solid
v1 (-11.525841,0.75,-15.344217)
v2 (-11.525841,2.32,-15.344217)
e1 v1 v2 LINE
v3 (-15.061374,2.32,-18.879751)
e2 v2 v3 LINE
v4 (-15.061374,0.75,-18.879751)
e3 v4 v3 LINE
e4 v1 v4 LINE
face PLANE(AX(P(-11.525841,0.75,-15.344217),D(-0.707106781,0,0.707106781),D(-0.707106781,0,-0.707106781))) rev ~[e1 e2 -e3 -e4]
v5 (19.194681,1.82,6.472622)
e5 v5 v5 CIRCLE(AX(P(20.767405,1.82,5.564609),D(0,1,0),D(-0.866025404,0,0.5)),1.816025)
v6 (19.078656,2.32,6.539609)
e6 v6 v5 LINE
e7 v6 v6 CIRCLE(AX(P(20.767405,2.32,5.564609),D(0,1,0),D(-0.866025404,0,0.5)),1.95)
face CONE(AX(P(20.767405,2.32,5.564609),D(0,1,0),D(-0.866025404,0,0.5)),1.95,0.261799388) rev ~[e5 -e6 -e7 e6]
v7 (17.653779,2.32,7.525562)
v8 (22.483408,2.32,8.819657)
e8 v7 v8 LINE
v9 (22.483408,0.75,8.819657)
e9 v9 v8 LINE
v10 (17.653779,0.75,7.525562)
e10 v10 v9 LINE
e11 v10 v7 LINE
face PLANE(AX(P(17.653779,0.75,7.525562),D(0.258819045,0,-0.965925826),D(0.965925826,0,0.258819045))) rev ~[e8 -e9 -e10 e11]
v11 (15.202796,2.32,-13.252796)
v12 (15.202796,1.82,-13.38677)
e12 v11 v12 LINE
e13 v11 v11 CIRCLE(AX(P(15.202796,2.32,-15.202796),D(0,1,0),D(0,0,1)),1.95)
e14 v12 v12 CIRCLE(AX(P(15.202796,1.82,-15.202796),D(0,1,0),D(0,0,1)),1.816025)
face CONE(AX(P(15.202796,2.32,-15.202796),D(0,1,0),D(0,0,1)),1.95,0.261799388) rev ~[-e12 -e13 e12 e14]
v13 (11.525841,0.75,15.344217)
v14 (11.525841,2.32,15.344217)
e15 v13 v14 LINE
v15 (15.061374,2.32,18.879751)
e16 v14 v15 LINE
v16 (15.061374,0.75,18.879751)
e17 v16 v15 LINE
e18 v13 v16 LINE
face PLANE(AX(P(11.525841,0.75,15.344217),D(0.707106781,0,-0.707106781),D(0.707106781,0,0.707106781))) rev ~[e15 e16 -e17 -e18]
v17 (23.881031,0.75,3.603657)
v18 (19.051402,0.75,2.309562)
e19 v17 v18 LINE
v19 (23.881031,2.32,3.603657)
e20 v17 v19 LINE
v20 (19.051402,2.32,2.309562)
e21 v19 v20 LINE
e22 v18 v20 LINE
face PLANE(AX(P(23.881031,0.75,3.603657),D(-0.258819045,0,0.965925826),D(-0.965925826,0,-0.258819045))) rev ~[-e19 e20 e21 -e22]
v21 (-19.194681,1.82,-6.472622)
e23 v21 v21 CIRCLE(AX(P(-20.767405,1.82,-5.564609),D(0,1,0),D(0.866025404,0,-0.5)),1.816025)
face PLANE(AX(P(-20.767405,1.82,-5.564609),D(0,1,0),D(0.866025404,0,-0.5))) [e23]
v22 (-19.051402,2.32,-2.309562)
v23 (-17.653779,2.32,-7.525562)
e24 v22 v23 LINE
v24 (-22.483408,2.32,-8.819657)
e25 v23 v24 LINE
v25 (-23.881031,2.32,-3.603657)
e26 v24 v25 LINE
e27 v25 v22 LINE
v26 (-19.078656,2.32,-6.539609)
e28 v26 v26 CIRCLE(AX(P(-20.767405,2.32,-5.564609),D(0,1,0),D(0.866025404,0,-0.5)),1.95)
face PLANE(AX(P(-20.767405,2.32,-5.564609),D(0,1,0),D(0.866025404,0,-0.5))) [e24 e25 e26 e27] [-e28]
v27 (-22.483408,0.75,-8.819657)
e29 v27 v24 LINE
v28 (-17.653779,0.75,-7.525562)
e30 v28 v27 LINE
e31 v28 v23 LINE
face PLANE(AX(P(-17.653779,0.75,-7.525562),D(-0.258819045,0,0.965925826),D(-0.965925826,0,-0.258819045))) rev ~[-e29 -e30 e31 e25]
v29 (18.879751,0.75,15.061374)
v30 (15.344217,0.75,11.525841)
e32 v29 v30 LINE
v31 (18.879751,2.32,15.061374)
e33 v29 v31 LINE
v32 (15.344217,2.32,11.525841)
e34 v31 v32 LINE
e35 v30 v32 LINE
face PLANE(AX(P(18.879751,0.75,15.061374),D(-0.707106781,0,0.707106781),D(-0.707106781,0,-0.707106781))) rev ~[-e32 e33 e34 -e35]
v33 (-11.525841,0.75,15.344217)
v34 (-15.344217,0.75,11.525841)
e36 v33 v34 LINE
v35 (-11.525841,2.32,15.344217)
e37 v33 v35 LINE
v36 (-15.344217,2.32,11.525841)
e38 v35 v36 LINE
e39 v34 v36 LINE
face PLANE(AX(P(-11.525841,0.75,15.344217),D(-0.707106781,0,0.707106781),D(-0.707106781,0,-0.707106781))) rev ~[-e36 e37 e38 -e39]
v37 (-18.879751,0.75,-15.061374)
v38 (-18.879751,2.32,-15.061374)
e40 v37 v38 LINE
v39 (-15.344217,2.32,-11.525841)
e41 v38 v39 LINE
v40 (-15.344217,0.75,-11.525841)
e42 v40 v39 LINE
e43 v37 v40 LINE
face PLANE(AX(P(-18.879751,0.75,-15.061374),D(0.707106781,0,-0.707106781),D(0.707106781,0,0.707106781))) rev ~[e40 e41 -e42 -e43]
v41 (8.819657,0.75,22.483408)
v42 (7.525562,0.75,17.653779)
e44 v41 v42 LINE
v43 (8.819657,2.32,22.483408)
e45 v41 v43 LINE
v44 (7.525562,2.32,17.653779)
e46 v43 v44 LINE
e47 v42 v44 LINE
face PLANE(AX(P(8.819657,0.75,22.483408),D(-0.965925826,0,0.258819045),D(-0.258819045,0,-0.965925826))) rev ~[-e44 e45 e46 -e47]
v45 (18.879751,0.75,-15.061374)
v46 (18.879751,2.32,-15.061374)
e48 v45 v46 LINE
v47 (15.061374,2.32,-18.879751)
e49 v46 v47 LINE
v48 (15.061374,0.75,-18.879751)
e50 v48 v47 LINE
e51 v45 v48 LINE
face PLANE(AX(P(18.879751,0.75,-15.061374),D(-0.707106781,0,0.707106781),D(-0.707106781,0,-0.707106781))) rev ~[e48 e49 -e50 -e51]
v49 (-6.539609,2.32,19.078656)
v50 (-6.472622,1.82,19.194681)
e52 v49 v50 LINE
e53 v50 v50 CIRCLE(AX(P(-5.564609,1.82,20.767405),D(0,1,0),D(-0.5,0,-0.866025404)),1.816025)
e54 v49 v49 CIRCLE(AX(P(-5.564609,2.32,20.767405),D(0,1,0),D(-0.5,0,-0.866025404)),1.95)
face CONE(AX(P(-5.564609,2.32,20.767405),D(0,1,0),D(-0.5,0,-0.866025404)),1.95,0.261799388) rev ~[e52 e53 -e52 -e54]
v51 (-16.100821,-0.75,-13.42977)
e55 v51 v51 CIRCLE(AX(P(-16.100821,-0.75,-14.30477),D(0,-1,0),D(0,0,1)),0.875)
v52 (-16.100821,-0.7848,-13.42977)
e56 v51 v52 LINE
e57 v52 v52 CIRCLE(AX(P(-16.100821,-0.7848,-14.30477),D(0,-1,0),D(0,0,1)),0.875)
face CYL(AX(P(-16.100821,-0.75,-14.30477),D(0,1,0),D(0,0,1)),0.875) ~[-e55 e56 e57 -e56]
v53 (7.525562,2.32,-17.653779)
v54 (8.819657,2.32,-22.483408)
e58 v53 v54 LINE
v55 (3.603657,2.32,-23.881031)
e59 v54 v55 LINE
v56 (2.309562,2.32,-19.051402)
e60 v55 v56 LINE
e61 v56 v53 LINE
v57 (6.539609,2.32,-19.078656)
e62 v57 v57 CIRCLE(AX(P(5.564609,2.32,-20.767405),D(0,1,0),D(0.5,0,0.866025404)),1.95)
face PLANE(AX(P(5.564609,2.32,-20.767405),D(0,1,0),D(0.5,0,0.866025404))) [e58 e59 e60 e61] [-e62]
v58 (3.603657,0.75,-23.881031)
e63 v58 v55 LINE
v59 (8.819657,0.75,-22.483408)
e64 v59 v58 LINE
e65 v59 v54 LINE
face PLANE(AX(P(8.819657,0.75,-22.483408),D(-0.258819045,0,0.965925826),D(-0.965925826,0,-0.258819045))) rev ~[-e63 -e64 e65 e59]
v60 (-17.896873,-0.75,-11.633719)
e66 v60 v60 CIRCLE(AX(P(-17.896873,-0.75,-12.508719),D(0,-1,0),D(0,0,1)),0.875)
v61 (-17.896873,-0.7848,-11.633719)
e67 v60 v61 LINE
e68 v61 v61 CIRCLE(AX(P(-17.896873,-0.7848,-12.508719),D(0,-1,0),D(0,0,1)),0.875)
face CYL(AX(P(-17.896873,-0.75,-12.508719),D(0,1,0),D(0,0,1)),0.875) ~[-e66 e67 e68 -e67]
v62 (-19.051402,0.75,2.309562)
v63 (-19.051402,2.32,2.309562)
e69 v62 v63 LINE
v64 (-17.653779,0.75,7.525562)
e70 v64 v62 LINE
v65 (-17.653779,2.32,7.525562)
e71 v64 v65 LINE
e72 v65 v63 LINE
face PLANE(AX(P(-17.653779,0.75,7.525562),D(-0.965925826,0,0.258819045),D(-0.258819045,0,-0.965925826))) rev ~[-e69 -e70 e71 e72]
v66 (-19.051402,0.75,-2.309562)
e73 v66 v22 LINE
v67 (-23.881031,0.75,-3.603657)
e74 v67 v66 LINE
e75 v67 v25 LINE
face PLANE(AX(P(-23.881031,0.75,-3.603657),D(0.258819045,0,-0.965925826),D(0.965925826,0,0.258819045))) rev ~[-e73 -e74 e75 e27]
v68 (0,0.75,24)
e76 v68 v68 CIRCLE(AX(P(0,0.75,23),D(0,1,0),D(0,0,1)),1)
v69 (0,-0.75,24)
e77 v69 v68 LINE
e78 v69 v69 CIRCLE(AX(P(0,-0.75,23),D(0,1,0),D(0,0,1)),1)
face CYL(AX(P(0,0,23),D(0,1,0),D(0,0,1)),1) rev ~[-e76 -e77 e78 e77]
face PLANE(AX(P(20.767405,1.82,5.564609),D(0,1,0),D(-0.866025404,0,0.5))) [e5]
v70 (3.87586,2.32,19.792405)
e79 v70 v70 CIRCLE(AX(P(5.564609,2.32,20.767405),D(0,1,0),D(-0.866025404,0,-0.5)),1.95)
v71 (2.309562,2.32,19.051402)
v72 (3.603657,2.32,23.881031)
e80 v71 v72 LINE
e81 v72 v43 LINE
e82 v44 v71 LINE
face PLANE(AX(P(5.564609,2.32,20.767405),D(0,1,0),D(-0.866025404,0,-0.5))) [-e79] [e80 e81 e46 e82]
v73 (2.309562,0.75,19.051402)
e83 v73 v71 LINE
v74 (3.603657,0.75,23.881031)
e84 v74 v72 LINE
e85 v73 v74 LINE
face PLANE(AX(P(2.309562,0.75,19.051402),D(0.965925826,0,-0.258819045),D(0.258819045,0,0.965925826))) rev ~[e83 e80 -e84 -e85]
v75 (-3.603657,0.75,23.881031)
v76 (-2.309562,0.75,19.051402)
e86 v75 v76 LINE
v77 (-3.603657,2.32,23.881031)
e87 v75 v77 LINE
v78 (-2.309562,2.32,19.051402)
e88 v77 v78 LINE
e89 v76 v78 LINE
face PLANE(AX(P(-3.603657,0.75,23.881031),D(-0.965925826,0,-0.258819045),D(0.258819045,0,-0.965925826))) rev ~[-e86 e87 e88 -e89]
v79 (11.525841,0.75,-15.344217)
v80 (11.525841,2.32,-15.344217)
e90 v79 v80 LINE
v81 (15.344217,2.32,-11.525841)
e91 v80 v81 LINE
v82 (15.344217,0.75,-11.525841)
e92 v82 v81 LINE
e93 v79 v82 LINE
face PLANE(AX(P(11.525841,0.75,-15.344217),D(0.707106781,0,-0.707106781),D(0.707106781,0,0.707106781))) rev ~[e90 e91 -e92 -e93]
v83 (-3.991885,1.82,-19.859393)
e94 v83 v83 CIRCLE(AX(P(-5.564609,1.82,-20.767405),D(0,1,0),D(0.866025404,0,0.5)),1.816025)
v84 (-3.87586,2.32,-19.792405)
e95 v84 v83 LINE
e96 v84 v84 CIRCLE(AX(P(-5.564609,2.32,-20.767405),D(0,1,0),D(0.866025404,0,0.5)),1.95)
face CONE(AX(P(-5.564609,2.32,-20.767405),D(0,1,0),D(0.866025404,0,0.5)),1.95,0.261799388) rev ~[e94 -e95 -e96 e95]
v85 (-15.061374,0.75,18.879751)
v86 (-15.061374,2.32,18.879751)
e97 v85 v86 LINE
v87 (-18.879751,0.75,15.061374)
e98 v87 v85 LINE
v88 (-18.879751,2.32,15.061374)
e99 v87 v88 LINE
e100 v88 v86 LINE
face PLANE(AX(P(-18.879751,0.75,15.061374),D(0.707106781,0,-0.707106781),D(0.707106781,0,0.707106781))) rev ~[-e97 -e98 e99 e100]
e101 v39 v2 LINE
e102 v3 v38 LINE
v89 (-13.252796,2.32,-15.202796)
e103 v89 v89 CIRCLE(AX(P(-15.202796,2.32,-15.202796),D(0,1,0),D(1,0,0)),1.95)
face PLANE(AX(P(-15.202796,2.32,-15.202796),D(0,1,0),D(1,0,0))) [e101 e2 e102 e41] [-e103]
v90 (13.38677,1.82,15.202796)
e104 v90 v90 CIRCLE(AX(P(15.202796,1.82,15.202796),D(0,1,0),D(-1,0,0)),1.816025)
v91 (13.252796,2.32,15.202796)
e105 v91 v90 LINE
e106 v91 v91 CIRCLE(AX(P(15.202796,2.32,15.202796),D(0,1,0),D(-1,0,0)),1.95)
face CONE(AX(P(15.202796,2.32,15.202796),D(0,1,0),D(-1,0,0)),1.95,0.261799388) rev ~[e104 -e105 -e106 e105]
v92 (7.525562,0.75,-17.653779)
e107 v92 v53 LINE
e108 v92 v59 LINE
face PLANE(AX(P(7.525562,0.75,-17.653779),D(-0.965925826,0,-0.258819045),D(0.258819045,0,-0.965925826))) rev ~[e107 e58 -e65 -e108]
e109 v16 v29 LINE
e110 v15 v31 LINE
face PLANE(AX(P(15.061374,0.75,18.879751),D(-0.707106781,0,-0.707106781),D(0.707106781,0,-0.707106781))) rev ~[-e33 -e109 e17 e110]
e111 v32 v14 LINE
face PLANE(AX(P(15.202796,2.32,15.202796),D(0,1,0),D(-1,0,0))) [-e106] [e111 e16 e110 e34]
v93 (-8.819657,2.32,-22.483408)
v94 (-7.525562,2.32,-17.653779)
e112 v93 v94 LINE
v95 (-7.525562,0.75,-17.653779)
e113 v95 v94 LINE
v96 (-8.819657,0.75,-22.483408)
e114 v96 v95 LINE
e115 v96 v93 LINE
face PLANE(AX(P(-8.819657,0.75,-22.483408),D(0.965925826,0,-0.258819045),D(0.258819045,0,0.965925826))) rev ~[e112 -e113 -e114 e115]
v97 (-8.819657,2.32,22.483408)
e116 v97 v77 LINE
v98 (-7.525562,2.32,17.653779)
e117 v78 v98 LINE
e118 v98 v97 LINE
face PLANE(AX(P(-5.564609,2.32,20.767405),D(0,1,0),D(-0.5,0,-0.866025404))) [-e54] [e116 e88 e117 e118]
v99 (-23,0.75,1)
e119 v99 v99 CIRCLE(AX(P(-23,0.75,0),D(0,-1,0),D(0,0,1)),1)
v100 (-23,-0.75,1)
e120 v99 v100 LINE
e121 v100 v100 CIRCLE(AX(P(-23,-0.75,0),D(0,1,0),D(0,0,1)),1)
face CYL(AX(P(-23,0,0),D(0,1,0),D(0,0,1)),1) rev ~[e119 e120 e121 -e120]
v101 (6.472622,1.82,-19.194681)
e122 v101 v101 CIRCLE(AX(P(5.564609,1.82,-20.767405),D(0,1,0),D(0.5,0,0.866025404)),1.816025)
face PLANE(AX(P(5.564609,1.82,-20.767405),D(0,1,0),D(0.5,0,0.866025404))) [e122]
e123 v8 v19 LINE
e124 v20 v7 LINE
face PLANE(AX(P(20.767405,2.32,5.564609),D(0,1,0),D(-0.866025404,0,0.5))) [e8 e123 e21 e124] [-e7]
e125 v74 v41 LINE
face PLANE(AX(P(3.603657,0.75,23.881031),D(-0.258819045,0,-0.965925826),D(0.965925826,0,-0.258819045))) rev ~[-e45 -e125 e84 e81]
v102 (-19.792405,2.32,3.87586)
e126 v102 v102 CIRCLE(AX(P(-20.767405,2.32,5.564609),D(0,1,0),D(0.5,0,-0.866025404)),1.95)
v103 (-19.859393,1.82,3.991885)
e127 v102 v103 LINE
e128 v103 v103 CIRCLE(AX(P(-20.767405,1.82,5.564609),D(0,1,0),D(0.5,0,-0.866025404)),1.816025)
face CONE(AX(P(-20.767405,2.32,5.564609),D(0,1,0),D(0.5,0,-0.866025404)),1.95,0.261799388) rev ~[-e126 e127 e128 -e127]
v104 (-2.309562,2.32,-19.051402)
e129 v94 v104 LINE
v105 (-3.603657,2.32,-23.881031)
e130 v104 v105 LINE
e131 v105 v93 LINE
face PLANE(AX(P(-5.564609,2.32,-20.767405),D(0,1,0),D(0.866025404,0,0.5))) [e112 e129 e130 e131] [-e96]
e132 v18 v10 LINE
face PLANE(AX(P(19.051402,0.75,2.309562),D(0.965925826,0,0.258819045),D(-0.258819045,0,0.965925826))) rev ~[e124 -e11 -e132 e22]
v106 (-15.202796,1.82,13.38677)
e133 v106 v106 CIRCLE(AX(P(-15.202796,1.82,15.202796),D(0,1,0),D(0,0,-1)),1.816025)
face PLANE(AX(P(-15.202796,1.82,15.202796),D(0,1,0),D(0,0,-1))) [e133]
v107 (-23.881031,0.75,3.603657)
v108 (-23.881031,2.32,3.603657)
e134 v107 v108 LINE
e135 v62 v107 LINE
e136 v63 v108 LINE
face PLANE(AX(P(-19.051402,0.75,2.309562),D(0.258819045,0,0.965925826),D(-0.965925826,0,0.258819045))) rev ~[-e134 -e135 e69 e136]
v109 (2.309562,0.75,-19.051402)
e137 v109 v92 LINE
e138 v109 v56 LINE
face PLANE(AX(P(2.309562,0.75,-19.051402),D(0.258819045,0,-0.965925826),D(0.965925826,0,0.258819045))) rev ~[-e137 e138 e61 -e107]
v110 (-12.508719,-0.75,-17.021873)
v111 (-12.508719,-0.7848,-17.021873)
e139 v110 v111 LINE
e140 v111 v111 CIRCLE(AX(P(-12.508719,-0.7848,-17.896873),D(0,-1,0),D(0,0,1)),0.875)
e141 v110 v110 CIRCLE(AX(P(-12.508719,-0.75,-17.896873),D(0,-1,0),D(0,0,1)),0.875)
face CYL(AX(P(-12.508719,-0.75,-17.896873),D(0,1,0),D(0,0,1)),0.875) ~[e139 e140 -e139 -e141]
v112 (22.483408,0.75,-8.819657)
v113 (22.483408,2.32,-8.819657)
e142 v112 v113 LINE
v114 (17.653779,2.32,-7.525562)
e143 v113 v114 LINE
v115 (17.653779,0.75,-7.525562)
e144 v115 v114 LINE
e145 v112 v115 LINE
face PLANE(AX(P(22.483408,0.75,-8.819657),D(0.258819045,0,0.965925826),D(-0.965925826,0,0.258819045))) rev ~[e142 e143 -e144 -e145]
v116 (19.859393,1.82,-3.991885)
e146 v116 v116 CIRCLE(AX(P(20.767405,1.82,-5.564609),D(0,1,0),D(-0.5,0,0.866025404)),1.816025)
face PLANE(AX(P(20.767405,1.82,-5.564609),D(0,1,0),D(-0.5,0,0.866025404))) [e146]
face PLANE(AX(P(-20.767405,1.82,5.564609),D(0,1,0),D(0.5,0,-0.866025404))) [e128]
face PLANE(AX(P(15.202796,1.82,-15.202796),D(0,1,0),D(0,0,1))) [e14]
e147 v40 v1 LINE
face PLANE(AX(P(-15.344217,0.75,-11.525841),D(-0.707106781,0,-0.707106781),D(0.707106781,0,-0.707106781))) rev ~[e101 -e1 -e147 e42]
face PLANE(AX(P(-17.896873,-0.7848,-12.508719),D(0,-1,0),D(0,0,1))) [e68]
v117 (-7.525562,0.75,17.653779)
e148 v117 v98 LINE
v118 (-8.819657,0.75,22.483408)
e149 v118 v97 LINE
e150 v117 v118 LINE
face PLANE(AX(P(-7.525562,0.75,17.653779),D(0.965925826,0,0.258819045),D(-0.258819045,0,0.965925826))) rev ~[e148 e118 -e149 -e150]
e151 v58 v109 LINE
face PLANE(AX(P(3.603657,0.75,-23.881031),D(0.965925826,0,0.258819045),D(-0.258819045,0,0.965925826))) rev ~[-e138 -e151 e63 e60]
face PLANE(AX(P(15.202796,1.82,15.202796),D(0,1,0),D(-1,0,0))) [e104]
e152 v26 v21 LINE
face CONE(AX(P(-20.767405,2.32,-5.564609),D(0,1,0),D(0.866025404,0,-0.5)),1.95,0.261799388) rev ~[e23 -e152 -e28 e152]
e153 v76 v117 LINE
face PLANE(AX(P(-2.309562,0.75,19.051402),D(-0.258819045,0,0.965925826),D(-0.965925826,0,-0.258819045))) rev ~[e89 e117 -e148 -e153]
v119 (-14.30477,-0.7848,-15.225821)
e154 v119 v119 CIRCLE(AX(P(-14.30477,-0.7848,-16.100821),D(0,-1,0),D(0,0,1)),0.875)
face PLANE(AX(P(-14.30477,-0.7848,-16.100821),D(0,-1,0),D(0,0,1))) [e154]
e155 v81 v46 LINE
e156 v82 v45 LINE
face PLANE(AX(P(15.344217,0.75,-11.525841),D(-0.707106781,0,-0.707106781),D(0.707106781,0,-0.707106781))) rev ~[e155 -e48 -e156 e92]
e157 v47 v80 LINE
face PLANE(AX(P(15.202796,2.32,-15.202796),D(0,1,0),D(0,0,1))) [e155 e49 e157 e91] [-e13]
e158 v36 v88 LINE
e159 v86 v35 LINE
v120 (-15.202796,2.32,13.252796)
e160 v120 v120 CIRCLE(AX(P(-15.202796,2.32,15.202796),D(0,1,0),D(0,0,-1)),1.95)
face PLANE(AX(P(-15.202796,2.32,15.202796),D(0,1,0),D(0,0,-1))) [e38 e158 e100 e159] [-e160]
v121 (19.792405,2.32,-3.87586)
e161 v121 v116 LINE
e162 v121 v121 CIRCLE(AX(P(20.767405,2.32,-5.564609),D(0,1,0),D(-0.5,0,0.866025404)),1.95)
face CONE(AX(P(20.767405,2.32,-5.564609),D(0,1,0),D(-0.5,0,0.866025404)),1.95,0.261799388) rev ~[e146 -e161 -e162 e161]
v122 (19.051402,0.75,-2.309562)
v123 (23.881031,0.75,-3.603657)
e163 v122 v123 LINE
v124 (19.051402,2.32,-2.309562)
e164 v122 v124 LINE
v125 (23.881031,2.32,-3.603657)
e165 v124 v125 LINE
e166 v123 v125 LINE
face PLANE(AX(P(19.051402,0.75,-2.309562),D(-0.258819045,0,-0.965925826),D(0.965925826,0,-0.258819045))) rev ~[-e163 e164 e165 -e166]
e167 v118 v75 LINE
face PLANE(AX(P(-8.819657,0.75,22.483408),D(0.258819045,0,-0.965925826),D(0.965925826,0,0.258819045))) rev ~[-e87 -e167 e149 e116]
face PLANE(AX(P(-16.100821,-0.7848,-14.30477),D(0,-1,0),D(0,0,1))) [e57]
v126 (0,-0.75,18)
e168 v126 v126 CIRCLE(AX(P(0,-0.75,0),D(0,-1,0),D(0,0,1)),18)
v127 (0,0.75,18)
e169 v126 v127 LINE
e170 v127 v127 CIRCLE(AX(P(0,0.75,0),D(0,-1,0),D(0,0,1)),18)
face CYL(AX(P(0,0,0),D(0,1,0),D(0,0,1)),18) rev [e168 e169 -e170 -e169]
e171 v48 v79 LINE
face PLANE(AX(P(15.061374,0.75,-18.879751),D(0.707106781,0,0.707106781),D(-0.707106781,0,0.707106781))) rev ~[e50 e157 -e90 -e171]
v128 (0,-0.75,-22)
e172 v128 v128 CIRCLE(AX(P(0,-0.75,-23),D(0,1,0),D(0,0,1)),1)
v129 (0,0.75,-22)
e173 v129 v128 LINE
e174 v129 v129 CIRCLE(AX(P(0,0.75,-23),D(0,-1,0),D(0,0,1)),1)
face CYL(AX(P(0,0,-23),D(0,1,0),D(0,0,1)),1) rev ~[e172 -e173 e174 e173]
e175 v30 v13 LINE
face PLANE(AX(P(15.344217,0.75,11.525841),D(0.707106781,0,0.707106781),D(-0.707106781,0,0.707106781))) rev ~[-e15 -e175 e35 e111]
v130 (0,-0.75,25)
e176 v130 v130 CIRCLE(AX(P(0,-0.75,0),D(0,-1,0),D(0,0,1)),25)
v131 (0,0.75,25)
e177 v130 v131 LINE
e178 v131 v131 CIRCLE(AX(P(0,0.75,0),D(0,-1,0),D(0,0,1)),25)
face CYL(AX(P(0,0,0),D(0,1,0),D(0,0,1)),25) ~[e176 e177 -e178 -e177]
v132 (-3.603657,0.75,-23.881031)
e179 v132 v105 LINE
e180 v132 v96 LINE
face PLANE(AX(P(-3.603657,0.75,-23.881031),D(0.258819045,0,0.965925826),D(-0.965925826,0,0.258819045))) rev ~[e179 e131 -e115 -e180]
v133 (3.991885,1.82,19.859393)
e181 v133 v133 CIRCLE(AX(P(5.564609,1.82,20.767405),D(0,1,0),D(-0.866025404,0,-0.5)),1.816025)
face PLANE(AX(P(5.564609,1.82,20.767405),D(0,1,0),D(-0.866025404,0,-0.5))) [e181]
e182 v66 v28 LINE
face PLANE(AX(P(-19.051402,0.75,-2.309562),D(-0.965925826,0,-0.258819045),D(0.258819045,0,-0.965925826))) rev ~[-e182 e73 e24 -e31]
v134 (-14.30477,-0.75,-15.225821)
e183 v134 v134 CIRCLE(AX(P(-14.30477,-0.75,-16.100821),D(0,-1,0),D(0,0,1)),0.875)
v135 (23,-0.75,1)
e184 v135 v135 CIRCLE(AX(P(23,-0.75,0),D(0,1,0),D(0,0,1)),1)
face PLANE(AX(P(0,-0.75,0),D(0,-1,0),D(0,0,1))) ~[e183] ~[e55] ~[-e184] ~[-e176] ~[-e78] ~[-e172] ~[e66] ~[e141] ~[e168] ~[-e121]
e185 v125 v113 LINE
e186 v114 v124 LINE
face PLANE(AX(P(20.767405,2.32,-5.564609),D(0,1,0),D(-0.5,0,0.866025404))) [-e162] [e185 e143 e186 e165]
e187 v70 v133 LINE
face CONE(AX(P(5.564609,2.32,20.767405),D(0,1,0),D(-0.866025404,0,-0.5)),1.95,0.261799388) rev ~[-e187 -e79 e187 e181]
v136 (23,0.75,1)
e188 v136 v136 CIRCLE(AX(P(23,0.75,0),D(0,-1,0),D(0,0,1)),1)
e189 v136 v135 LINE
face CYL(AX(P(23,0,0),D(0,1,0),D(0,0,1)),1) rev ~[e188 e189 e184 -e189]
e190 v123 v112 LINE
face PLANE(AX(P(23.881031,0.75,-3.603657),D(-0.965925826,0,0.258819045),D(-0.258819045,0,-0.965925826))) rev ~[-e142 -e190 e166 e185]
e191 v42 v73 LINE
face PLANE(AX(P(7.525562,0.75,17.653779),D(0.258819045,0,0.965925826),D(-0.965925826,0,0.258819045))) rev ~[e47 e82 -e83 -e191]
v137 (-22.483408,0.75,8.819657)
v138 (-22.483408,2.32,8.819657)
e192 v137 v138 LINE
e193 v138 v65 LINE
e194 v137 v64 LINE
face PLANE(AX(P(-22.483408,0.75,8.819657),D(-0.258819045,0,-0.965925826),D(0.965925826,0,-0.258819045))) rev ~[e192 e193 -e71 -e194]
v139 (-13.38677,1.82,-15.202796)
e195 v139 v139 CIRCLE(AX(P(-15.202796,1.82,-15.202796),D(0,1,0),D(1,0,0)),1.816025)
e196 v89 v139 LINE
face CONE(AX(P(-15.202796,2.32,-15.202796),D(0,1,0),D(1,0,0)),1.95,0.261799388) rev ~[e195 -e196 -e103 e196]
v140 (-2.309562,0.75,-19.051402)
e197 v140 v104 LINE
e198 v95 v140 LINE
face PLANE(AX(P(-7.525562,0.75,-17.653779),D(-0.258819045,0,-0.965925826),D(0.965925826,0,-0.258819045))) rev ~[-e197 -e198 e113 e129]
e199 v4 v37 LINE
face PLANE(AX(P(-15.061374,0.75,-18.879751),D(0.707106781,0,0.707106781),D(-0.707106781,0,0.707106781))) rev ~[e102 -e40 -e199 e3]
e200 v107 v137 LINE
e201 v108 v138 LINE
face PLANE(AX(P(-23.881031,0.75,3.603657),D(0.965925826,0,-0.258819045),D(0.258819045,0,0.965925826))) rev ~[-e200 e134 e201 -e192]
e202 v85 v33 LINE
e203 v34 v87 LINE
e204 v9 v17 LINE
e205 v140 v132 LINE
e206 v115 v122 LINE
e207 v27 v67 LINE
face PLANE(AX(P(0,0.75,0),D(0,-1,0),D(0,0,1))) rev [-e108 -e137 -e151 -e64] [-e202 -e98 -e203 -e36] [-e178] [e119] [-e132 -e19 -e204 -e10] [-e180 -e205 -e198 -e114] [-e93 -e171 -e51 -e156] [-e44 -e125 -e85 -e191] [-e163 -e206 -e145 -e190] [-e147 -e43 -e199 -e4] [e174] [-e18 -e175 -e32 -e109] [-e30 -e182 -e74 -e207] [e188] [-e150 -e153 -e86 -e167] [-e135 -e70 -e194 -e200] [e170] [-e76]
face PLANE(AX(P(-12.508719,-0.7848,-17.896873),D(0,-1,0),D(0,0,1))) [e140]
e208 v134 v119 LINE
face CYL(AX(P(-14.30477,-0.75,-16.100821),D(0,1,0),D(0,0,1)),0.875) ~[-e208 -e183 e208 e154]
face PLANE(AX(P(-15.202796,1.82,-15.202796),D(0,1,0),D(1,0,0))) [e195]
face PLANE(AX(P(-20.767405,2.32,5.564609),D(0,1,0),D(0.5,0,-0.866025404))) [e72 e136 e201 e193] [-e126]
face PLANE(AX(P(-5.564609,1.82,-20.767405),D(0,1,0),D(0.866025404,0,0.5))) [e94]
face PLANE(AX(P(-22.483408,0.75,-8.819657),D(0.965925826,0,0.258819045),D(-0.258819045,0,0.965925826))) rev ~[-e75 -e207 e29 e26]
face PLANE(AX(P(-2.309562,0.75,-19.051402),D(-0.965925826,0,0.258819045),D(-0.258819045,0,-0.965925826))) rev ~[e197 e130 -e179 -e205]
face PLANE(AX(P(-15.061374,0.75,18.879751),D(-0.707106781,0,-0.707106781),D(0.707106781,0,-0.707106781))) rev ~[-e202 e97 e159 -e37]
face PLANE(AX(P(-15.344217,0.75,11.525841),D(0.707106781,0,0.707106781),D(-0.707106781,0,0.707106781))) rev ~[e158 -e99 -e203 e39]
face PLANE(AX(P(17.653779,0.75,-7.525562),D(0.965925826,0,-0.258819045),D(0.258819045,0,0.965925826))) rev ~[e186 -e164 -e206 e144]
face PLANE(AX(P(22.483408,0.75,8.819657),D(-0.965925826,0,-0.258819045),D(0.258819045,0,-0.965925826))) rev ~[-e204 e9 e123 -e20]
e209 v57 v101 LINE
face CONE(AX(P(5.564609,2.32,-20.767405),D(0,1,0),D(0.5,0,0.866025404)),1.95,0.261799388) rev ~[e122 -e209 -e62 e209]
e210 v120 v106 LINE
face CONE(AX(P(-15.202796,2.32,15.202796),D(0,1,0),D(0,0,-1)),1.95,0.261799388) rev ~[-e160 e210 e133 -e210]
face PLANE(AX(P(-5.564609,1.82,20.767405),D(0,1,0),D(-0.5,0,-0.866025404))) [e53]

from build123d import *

# Parameters (mm, degrees)
CONTOUR_W                                   = 7
CONTOUR_H                                   = 1.5
BOSS_EXTRU_2_RGB_DEL_DEPTH                  = 1.57
R_P_TITION_CIRCULAIRE1_RGB_DEL_COUNT        = 12
BEIGNETS_SOUDURES_R                         = 0.875
BOSS_EXTRU_3_BEIGNETS_SOUDURES_DEPTH        = 0.0348
LENTILLE_R                                  = 1.95
ENL_V_MAT_EXTRU_1_LENTILLE_DEPTH            = 0.5
ENL_V_MAT_EXTRU_1_LENTILLE_DRAFT            = -15
R_P_TITION_CIRCULAIRE1_COPY_1_SKETCH_R      = 1.95
R_P_TITION_CIRCULAIRE1_COPY_1_DEPTH         = 0.5
R_P_TITION_CIRCULAIRE1_COPY_1_DRAFT         = -15
R_P_TITION_CIRCULAIRE1_COPY_2_SKETCH_R      = 1.95
R_P_TITION_CIRCULAIRE1_COPY_2_DEPTH         = 0.5
R_P_TITION_CIRCULAIRE1_COPY_2_DRAFT         = -15
R_P_TITION_CIRCULAIRE1_COPY_3_SKETCH_R      = 1.95
R_P_TITION_CIRCULAIRE1_COPY_3_DEPTH         = 0.5
R_P_TITION_CIRCULAIRE1_COPY_3_DRAFT         = -15
R_P_TITION_CIRCULAIRE1_COPY_4_SKETCH_R      = 1.95
R_P_TITION_CIRCULAIRE1_COPY_4_DEPTH         = 0.5
R_P_TITION_CIRCULAIRE1_COPY_4_DRAFT         = -15
R_P_TITION_CIRCULAIRE1_COPY_5_SKETCH_R      = 1.95
R_P_TITION_CIRCULAIRE1_COPY_5_DEPTH         = 0.5
R_P_TITION_CIRCULAIRE1_COPY_5_DRAFT         = -15
R_P_TITION_CIRCULAIRE1_COPY_6_SKETCH_R      = 1.95
R_P_TITION_CIRCULAIRE1_COPY_6_DEPTH         = 0.5
R_P_TITION_CIRCULAIRE1_COPY_6_DRAFT         = -15
R_P_TITION_CIRCULAIRE1_COPY_7_SKETCH_R      = 1.95
R_P_TITION_CIRCULAIRE1_COPY_7_DEPTH         = 0.5
R_P_TITION_CIRCULAIRE1_COPY_7_DRAFT         = -15
R_P_TITION_CIRCULAIRE1_COPY_8_SKETCH_R      = 1.95
R_P_TITION_CIRCULAIRE1_COPY_8_DEPTH         = 0.5
R_P_TITION_CIRCULAIRE1_COPY_8_DRAFT         = -15
R_P_TITION_CIRCULAIRE1_COPY_9_SKETCH_R      = 1.95
R_P_TITION_CIRCULAIRE1_COPY_9_DEPTH         = 0.5
R_P_TITION_CIRCULAIRE1_COPY_9_DRAFT         = -15
R_P_TITION_CIRCULAIRE1_COPY_10_SKETCH_R     = 1.95
R_P_TITION_CIRCULAIRE1_COPY_10_DEPTH        = 0.5
R_P_TITION_CIRCULAIRE1_COPY_10_DRAFT        = -15
R_P_TITION_CIRCULAIRE1_COPY_11_SKETCH_R     = 1.95
R_P_TITION_CIRCULAIRE1_COPY_11_DEPTH        = 0.5
R_P_TITION_CIRCULAIRE1_COPY_11_DRAFT        = -15
TOUS_MONTAGE_VIS_M2_ANNEAU_RGB_R            = 1
ENL_V_MAT_EXTRU_1_TOUS_MONTAGE_VIS_M2_DEPTH = 2.5


with BuildPart() as part:
    # Contour → Révolution1_Contour (revolve)
    with BuildSketch(Plane.XY, mode=Mode.PRIVATE) as r_volution1_contour_sk:
        with Locations((21.5, 0)):
            Rectangle(CONTOUR_W, CONTOUR_H)
    revolve(r_volution1_contour_sk.sketch.rotate(Axis((0, 2.47524, 0), (0, -1, 0)), 90), axis=Axis((0, 2.47524, 0), (0, -1, 0)))

    # RGB_DEL → Boss.-Extru.2_RGB_DEL (add)
    with BuildSketch(Plane(origin=(0, 0.75, 0), x_dir=(1, 0, 0), z_dir=(0, 1, 0))):
        Polygon((-15.344217152, 11.525840533), (-11.525840533, 15.344217152), (-15.061374439, 18.879751058), (-18.879751058, 15.061374439), align=None)
    boss_extru_2_rgb_del = extrude(amount=BOSS_EXTRU_2_RGB_DEL_DEPTH)

    # Répétition circulaire1_RGB_DEL: Boss.-Extru.2_RGB_DEL ×12 about axis
    r_p_tition_circulaire1_rgb_del_axis = Axis((0, 0, 0), (0, 1, 0))
    for i in range(1, R_P_TITION_CIRCULAIRE1_RGB_DEL_COUNT):
        add(boss_extru_2_rgb_del.rotate(r_p_tition_circulaire1_rgb_del_axis, i * 360 / R_P_TITION_CIRCULAIRE1_RGB_DEL_COUNT))

    # Beignets_soudures → Boss.-Extru.3_Beignets_soudures (add)
    with BuildSketch(Plane(origin=(0, -0.75, 0), x_dir=(-1, 0, 0), z_dir=(0, -1, 0))):
        with Locations(Location((12.508718959, 17.896872632, 0), (0, 0, 270))):
            Circle(BEIGNETS_SOUDURES_R)
        with Locations(Location((14.304770183, 16.100821408, 0), (0, 0, 270))):
            Circle(BEIGNETS_SOUDURES_R)
        with Locations(Location((16.100821408, 14.304770183, 0), (0, 0, 270))):
            Circle(BEIGNETS_SOUDURES_R)
        with Locations(Location((17.896872632, 12.508718959, 0), (0, 0, 270))):
            Circle(BEIGNETS_SOUDURES_R)
    extrude(amount=BOSS_EXTRU_3_BEIGNETS_SOUDURES_DEPTH)


with BuildPart() as enl_v_mat_extru_1_lentille_tool:
    # Lentille → Enlèv. mat.-Extru.1_Lentille (with draft: the straight prism first)
    with BuildSketch(Plane(origin=(0, 2.32, 0), x_dir=(1, 0, 0), z_dir=(0, 1, 0))):
        with Locations((-15.202795796, 15.202795796)):
            Circle(LENTILLE_R)
    extrude(amount=-ENL_V_MAT_EXTRU_1_LENTILLE_DEPTH)
    # Enlèv. mat.-Extru.1_Lentille: the draft: its side faces are tilted about the plane it starts from
    enl_v_mat_extru_1_lentille_sides = [enl_v_mat_extru_1_lentille_tool.faces().sort_by_distance(p)[0] for p in [
        (-17.152795796, 2.07, -15.202795796),
    ]]
    draft(enl_v_mat_extru_1_lentille_sides, Plane(origin=(0, 2.32, 0), x_dir=(1, 0, 0), z_dir=(0, 1, 0)), ENL_V_MAT_EXTRU_1_LENTILLE_DRAFT)


with BuildPart() as part_1:
    add(part.part)

    # Enlèv. mat.-Extru.1_Lentille: cut by enl_v_mat_extru_1_lentille_tool
    add(enl_v_mat_extru_1_lentille_tool.part, mode=Mode.SUBTRACT)


with BuildPart() as r_p_tition_circulaire1_copy_1_tool:
    # Répétition circulaire1 copy 1 sketch → Répétition circulaire1 copy 1 (with draft: the straight prism first)
    with BuildSketch(Plane(origin=(0, 2.32, 0), x_dir=(0.8660254037844387, 0, -0.49999999999999994), z_dir=(0, 1, 0))):
        with Locations((-15.202795796, 15.202795796)):
            Circle(R_P_TITION_CIRCULAIRE1_COPY_1_SKETCH_R)
    extrude(amount=-R_P_TITION_CIRCULAIRE1_COPY_1_DEPTH)
    # Répétition circulaire1 copy 1: the draft: its side faces are tilted about the plane it starts from
    r_p_tition_circulaire1_copy_1_sides = [r_p_tition_circulaire1_copy_1_tool.faces().sort_by_distance(p)[0] for p in [
        (-22.456154803, 2.07, -4.58960947),
    ]]
    draft(r_p_tition_circulaire1_copy_1_sides, Plane(origin=(0, 2.32, 0), x_dir=(0.8660254037844387, 0, -0.49999999999999994), z_dir=(0, 1, 0)), R_P_TITION_CIRCULAIRE1_COPY_1_DRAFT)


with BuildPart() as part_2:
    add(part_1.part)

    # Répétition circulaire1 copy 1: cut by r_p_tition_circulaire1_copy_1_tool
    add(r_p_tition_circulaire1_copy_1_tool.part, mode=Mode.SUBTRACT)


with BuildPart() as r_p_tition_circulaire1_copy_2_tool:
    # Répétition circulaire1 copy 2 sketch → Répétition circulaire1 copy 2 (with draft: the straight prism first)
    with BuildSketch(Plane(origin=(0, 2.32, 0), x_dir=(0.5000000000000001, 0, -0.8660254037844386), z_dir=(0, 1, 0))):
        with Locations((-15.202795796, 15.202795796)):
            Circle(R_P_TITION_CIRCULAIRE1_COPY_2_SKETCH_R)
    extrude(amount=-R_P_TITION_CIRCULAIRE1_COPY_2_DEPTH)
    # Répétition circulaire1 copy 2: the draft: its side faces are tilted about the plane it starts from
    r_p_tition_circulaire1_copy_2_sides = [r_p_tition_circulaire1_copy_2_tool.faces().sort_by_distance(p)[0] for p in [
        (-21.742405266, 2.07, 7.253359007),
    ]]
    draft(r_p_tition_circulaire1_copy_2_sides, Plane(origin=(0, 2.32, 0), x_dir=(0.5000000000000001, 0, -0.8660254037844386), z_dir=(0, 1, 0)), R_P_TITION_CIRCULAIRE1_COPY_2_DRAFT)


with BuildPart() as part_3:
    add(part_2.part)

    # Répétition circulaire1 copy 2: cut by r_p_tition_circulaire1_copy_2_tool
    add(r_p_tition_circulaire1_copy_2_tool.part, mode=Mode.SUBTRACT)


with BuildPart() as r_p_tition_circulaire1_copy_3_tool:
    # Répétition circulaire1 copy 3 sketch → Répétition circulaire1 copy 3 (with draft: the straight prism first)
    with BuildSketch(Plane(origin=(0, 2.32, 0), x_dir=(0, 0, -1), z_dir=(0, 1, 0))):
        with Locations((-15.202795796, 15.202795796)):
            Circle(R_P_TITION_CIRCULAIRE1_COPY_3_SKETCH_R)
    extrude(amount=-R_P_TITION_CIRCULAIRE1_COPY_3_DEPTH)
    # Répétition circulaire1 copy 3: the draft: its side faces are tilted about the plane it starts from
    r_p_tition_circulaire1_copy_3_sides = [r_p_tition_circulaire1_copy_3_tool.faces().sort_by_distance(p)[0] for p in [
        (-15.202795796, 2.07, 17.152795796),
    ]]
    draft(r_p_tition_circulaire1_copy_3_sides, Plane(origin=(0, 2.32, 0), x_dir=(0, 0, -1), z_dir=(0, 1, 0)), R_P_TITION_CIRCULAIRE1_COPY_3_DRAFT)


with BuildPart() as part_4:
    add(part_3.part)

    # Répétition circulaire1 copy 3: cut by r_p_tition_circulaire1_copy_3_tool
    add(r_p_tition_circulaire1_copy_3_tool.part, mode=Mode.SUBTRACT)


with BuildPart() as r_p_tition_circulaire1_copy_4_tool:
    # Répétition circulaire1 copy 4 sketch → Répétition circulaire1 copy 4 (with draft: the straight prism first)
    with BuildSketch(Plane(origin=(0, 2.32, 0), x_dir=(-0.4999999999999998, 0, -0.8660254037844387), z_dir=(0, 1, 0))):
        with Locations((-15.202795796, 15.202795796)):
            Circle(R_P_TITION_CIRCULAIRE1_COPY_4_SKETCH_R)
    extrude(amount=-R_P_TITION_CIRCULAIRE1_COPY_4_DEPTH)
    # Répétition circulaire1 copy 4: the draft: its side faces are tilted about the plane it starts from
    r_p_tition_circulaire1_copy_4_sides = [r_p_tition_circulaire1_copy_4_tool.faces().sort_by_distance(p)[0] for p in [
        (-4.58960947, 2.07, 22.456154803),
    ]]
    draft(r_p_tition_circulaire1_copy_4_sides, Plane(origin=(0, 2.32, 0), x_dir=(-0.4999999999999998, 0, -0.8660254037844387), z_dir=(0, 1, 0)), R_P_TITION_CIRCULAIRE1_COPY_4_DRAFT)


with BuildPart() as part_5:
    add(part_4.part)

    # Répétition circulaire1 copy 4: cut by r_p_tition_circulaire1_copy_4_tool
    add(r_p_tition_circulaire1_copy_4_tool.part, mode=Mode.SUBTRACT)


with BuildPart() as r_p_tition_circulaire1_copy_5_tool:
    # Répétition circulaire1 copy 5 sketch → Répétition circulaire1 copy 5 (with draft: the straight prism first)
    with BuildSketch(Plane(origin=(0, 2.32, 0), x_dir=(-0.8660254037844387, 0, -0.49999999999999994), z_dir=(0, 1, 0))):
        with Locations((-15.202795796, 15.202795796)):
            Circle(R_P_TITION_CIRCULAIRE1_COPY_5_SKETCH_R)
    extrude(amount=-R_P_TITION_CIRCULAIRE1_COPY_5_DEPTH)
    # Répétition circulaire1 copy 5: the draft: its side faces are tilted about the plane it starts from
    r_p_tition_circulaire1_copy_5_sides = [r_p_tition_circulaire1_copy_5_tool.faces().sort_by_distance(p)[0] for p in [
        (7.253359007, 2.07, 21.742405266),
    ]]
    draft(r_p_tition_circulaire1_copy_5_sides, Plane(origin=(0, 2.32, 0), x_dir=(-0.8660254037844387, 0, -0.49999999999999994), z_dir=(0, 1, 0)), R_P_TITION_CIRCULAIRE1_COPY_5_DRAFT)


with BuildPart() as part_6:
    add(part_5.part)

    # Répétition circulaire1 copy 5: cut by r_p_tition_circulaire1_copy_5_tool
    add(r_p_tition_circulaire1_copy_5_tool.part, mode=Mode.SUBTRACT)


with BuildPart() as r_p_tition_circulaire1_copy_6_tool:
    # Répétition circulaire1 copy 6 sketch → Répétition circulaire1 copy 6 (with draft: the straight prism first)
    with BuildSketch(Plane(origin=(0, 2.32, 0), x_dir=(-1, 0, 0), z_dir=(0, 1, 0))):
        with Locations((-15.202795796, 15.202795796)):
            Circle(R_P_TITION_CIRCULAIRE1_COPY_6_SKETCH_R)
    extrude(amount=-R_P_TITION_CIRCULAIRE1_COPY_6_DEPTH)
    # Répétition circulaire1 copy 6: the draft: its side faces are tilted about the plane it starts from
    r_p_tition_circulaire1_copy_6_sides = [r_p_tition_circulaire1_copy_6_tool.faces().sort_by_distance(p)[0] for p in [
        (17.152795796, 2.07, 15.202795796),
    ]]
    draft(r_p_tition_circulaire1_copy_6_sides, Plane(origin=(0, 2.32, 0), x_dir=(-1, 0, 0), z_dir=(0, 1, 0)), R_P_TITION_CIRCULAIRE1_COPY_6_DRAFT)


with BuildPart() as part_7:
    add(part_6.part)

    # Répétition circulaire1 copy 6: cut by r_p_tition_circulaire1_copy_6_tool
    add(r_p_tition_circulaire1_copy_6_tool.part, mode=Mode.SUBTRACT)


with BuildPart() as r_p_tition_circulaire1_copy_7_tool:
    # Répétition circulaire1 copy 7 sketch → Répétition circulaire1 copy 7 (with draft: the straight prism first)
    with BuildSketch(Plane(origin=(0, 2.32, 0), x_dir=(-0.8660254037844386, 0, 0.5000000000000001), z_dir=(0, 1, 0))):
        with Locations((-15.202795796, 15.202795796)):
            Circle(R_P_TITION_CIRCULAIRE1_COPY_7_SKETCH_R)
    extrude(amount=-R_P_TITION_CIRCULAIRE1_COPY_7_DEPTH)
    # Répétition circulaire1 copy 7: the draft: its side faces are tilted about the plane it starts from
    r_p_tition_circulaire1_copy_7_sides = [r_p_tition_circulaire1_copy_7_tool.faces().sort_by_distance(p)[0] for p in [
        (22.456154803, 2.07, 4.58960947),
    ]]
    draft(r_p_tition_circulaire1_copy_7_sides, Plane(origin=(0, 2.32, 0), x_dir=(-0.8660254037844386, 0, 0.5000000000000001), z_dir=(0, 1, 0)), R_P_TITION_CIRCULAIRE1_COPY_7_DRAFT)


with BuildPart() as part_8:
    add(part_7.part)

    # Répétition circulaire1 copy 7: cut by r_p_tition_circulaire1_copy_7_tool
    add(r_p_tition_circulaire1_copy_7_tool.part, mode=Mode.SUBTRACT)


with BuildPart() as r_p_tition_circulaire1_copy_8_tool:
    # Répétition circulaire1 copy 8 sketch → Répétition circulaire1 copy 8 (with draft: the straight prism first)
    with BuildSketch(Plane(origin=(0, 2.32, 0), x_dir=(-0.5000000000000004, 0, 0.8660254037844384), z_dir=(0, 1, 0))):
        with Locations((-15.202795796, 15.202795796)):
            Circle(R_P_TITION_CIRCULAIRE1_COPY_8_SKETCH_R)
    extrude(amount=-R_P_TITION_CIRCULAIRE1_COPY_8_DEPTH)
    # Répétition circulaire1 copy 8: the draft: its side faces are tilted about the plane it starts from
    r_p_tition_circulaire1_copy_8_sides = [r_p_tition_circulaire1_copy_8_tool.faces().sort_by_distance(p)[0] for p in [
        (21.742405266, 2.07, -7.253359007),
    ]]
    draft(r_p_tition_circulaire1_copy_8_sides, Plane(origin=(0, 2.32, 0), x_dir=(-0.5000000000000004, 0, 0.8660254037844384), z_dir=(0, 1, 0)), R_P_TITION_CIRCULAIRE1_COPY_8_DRAFT)


with BuildPart() as part_9:
    add(part_8.part)

    # Répétition circulaire1 copy 8: cut by r_p_tition_circulaire1_copy_8_tool
    add(r_p_tition_circulaire1_copy_8_tool.part, mode=Mode.SUBTRACT)


with BuildPart() as r_p_tition_circulaire1_copy_9_tool:
    # Répétition circulaire1 copy 9 sketch → Répétition circulaire1 copy 9 (with draft: the straight prism first)
    with BuildSketch(Plane.ZX.offset(2.32)):
        with Locations((-15.202795796, 15.202795796)):
            Circle(R_P_TITION_CIRCULAIRE1_COPY_9_SKETCH_R)
    extrude(amount=-R_P_TITION_CIRCULAIRE1_COPY_9_DEPTH)
    # Répétition circulaire1 copy 9: the draft: its side faces are tilted about the plane it starts from
    r_p_tition_circulaire1_copy_9_sides = [r_p_tition_circulaire1_copy_9_tool.faces().sort_by_distance(p)[0] for p in [
        (15.202795796, 2.07, -17.152795796),
    ]]
    draft(r_p_tition_circulaire1_copy_9_sides, Plane.ZX.offset(2.32), R_P_TITION_CIRCULAIRE1_COPY_9_DRAFT)


with BuildPart() as part_10:
    add(part_9.part)

    # Répétition circulaire1 copy 9: cut by r_p_tition_circulaire1_copy_9_tool
    add(r_p_tition_circulaire1_copy_9_tool.part, mode=Mode.SUBTRACT)


with BuildPart() as r_p_tition_circulaire1_copy_10_tool:
    # Répétition circulaire1 copy 10 sketch → Répétition circulaire1 copy 10 (with draft: the straight prism first)
    with BuildSketch(Plane(origin=(0, 2.32, 0), x_dir=(0.5000000000000001, 0, 0.8660254037844386), z_dir=(0, 1, 0))):
        with Locations((-15.202795796, 15.202795796)):
            Circle(R_P_TITION_CIRCULAIRE1_COPY_10_SKETCH_R)
    extrude(amount=-R_P_TITION_CIRCULAIRE1_COPY_10_DEPTH)
    # Répétition circulaire1 copy 10: the draft: its side faces are tilted about the plane it starts from
    r_p_tition_circulaire1_copy_10_sides = [r_p_tition_circulaire1_copy_10_tool.faces().sort_by_distance(p)[0] for p in [
        (4.58960947, 2.07, -22.456154803),
    ]]
    draft(r_p_tition_circulaire1_copy_10_sides, Plane(origin=(0, 2.32, 0), x_dir=(0.5000000000000001, 0, 0.8660254037844386), z_dir=(0, 1, 0)), R_P_TITION_CIRCULAIRE1_COPY_10_DRAFT)


with BuildPart() as part_11:
    add(part_10.part)

    # Répétition circulaire1 copy 10: cut by r_p_tition_circulaire1_copy_10_tool
    add(r_p_tition_circulaire1_copy_10_tool.part, mode=Mode.SUBTRACT)


with BuildPart() as r_p_tition_circulaire1_copy_11_tool:
    # Répétition circulaire1 copy 11 sketch → Répétition circulaire1 copy 11 (with draft: the straight prism first)
    with BuildSketch(Plane(origin=(0, 2.32, 0), x_dir=(0.8660254037844384, 0, 0.5000000000000004), z_dir=(0, 1, 0))):
        with Locations((-15.202795796, 15.202795796)):
            Circle(R_P_TITION_CIRCULAIRE1_COPY_11_SKETCH_R)
    extrude(amount=-R_P_TITION_CIRCULAIRE1_COPY_11_DEPTH)
    # Répétition circulaire1 copy 11: the draft: its side faces are tilted about the plane it starts from
    r_p_tition_circulaire1_copy_11_sides = [r_p_tition_circulaire1_copy_11_tool.faces().sort_by_distance(p)[0] for p in [
        (-7.253359007, 2.07, -21.742405266),
    ]]
    draft(r_p_tition_circulaire1_copy_11_sides, Plane(origin=(0, 2.32, 0), x_dir=(0.8660254037844384, 0, 0.5000000000000004), z_dir=(0, 1, 0)), R_P_TITION_CIRCULAIRE1_COPY_11_DRAFT)


with BuildPart() as part_12:
    add(part_11.part)

    # Répétition circulaire1 copy 11: cut by r_p_tition_circulaire1_copy_11_tool
    add(r_p_tition_circulaire1_copy_11_tool.part, mode=Mode.SUBTRACT)

    # Tous_Montage_Vis_M2_Anneau_RGB → Enlèv. mat.-Extru.1_Tous_Montage_Vis_M2_Anneau_RGB (cut, symmetric)
    with BuildSketch(Plane(origin=(0, 0, 0), x_dir=(1, 0, 0), z_dir=(0, 1, 0))):
        with Locations(Location((-23, 0, 0), (0, 0, 270))):
            Circle(TOUS_MONTAGE_VIS_M2_ANNEAU_RGB_R)
        with Locations(Location((0, 23, 0), (0, 0, 270))):
            Circle(TOUS_MONTAGE_VIS_M2_ANNEAU_RGB_R)
        with Locations(Location((23, 0, 0), (0, 0, 270))):
            Circle(TOUS_MONTAGE_VIS_M2_ANNEAU_RGB_R)
        with Locations(Location((0, -23, 0), (0, 0, 270))):
            Circle(TOUS_MONTAGE_VIS_M2_ANNEAU_RGB_R)
    extrude(amount=ENL_V_MAT_EXTRU_1_TOUS_MONTAGE_VIS_M2_DEPTH, both=True, mode=Mode.SUBTRACT)


solid = part_12.part
